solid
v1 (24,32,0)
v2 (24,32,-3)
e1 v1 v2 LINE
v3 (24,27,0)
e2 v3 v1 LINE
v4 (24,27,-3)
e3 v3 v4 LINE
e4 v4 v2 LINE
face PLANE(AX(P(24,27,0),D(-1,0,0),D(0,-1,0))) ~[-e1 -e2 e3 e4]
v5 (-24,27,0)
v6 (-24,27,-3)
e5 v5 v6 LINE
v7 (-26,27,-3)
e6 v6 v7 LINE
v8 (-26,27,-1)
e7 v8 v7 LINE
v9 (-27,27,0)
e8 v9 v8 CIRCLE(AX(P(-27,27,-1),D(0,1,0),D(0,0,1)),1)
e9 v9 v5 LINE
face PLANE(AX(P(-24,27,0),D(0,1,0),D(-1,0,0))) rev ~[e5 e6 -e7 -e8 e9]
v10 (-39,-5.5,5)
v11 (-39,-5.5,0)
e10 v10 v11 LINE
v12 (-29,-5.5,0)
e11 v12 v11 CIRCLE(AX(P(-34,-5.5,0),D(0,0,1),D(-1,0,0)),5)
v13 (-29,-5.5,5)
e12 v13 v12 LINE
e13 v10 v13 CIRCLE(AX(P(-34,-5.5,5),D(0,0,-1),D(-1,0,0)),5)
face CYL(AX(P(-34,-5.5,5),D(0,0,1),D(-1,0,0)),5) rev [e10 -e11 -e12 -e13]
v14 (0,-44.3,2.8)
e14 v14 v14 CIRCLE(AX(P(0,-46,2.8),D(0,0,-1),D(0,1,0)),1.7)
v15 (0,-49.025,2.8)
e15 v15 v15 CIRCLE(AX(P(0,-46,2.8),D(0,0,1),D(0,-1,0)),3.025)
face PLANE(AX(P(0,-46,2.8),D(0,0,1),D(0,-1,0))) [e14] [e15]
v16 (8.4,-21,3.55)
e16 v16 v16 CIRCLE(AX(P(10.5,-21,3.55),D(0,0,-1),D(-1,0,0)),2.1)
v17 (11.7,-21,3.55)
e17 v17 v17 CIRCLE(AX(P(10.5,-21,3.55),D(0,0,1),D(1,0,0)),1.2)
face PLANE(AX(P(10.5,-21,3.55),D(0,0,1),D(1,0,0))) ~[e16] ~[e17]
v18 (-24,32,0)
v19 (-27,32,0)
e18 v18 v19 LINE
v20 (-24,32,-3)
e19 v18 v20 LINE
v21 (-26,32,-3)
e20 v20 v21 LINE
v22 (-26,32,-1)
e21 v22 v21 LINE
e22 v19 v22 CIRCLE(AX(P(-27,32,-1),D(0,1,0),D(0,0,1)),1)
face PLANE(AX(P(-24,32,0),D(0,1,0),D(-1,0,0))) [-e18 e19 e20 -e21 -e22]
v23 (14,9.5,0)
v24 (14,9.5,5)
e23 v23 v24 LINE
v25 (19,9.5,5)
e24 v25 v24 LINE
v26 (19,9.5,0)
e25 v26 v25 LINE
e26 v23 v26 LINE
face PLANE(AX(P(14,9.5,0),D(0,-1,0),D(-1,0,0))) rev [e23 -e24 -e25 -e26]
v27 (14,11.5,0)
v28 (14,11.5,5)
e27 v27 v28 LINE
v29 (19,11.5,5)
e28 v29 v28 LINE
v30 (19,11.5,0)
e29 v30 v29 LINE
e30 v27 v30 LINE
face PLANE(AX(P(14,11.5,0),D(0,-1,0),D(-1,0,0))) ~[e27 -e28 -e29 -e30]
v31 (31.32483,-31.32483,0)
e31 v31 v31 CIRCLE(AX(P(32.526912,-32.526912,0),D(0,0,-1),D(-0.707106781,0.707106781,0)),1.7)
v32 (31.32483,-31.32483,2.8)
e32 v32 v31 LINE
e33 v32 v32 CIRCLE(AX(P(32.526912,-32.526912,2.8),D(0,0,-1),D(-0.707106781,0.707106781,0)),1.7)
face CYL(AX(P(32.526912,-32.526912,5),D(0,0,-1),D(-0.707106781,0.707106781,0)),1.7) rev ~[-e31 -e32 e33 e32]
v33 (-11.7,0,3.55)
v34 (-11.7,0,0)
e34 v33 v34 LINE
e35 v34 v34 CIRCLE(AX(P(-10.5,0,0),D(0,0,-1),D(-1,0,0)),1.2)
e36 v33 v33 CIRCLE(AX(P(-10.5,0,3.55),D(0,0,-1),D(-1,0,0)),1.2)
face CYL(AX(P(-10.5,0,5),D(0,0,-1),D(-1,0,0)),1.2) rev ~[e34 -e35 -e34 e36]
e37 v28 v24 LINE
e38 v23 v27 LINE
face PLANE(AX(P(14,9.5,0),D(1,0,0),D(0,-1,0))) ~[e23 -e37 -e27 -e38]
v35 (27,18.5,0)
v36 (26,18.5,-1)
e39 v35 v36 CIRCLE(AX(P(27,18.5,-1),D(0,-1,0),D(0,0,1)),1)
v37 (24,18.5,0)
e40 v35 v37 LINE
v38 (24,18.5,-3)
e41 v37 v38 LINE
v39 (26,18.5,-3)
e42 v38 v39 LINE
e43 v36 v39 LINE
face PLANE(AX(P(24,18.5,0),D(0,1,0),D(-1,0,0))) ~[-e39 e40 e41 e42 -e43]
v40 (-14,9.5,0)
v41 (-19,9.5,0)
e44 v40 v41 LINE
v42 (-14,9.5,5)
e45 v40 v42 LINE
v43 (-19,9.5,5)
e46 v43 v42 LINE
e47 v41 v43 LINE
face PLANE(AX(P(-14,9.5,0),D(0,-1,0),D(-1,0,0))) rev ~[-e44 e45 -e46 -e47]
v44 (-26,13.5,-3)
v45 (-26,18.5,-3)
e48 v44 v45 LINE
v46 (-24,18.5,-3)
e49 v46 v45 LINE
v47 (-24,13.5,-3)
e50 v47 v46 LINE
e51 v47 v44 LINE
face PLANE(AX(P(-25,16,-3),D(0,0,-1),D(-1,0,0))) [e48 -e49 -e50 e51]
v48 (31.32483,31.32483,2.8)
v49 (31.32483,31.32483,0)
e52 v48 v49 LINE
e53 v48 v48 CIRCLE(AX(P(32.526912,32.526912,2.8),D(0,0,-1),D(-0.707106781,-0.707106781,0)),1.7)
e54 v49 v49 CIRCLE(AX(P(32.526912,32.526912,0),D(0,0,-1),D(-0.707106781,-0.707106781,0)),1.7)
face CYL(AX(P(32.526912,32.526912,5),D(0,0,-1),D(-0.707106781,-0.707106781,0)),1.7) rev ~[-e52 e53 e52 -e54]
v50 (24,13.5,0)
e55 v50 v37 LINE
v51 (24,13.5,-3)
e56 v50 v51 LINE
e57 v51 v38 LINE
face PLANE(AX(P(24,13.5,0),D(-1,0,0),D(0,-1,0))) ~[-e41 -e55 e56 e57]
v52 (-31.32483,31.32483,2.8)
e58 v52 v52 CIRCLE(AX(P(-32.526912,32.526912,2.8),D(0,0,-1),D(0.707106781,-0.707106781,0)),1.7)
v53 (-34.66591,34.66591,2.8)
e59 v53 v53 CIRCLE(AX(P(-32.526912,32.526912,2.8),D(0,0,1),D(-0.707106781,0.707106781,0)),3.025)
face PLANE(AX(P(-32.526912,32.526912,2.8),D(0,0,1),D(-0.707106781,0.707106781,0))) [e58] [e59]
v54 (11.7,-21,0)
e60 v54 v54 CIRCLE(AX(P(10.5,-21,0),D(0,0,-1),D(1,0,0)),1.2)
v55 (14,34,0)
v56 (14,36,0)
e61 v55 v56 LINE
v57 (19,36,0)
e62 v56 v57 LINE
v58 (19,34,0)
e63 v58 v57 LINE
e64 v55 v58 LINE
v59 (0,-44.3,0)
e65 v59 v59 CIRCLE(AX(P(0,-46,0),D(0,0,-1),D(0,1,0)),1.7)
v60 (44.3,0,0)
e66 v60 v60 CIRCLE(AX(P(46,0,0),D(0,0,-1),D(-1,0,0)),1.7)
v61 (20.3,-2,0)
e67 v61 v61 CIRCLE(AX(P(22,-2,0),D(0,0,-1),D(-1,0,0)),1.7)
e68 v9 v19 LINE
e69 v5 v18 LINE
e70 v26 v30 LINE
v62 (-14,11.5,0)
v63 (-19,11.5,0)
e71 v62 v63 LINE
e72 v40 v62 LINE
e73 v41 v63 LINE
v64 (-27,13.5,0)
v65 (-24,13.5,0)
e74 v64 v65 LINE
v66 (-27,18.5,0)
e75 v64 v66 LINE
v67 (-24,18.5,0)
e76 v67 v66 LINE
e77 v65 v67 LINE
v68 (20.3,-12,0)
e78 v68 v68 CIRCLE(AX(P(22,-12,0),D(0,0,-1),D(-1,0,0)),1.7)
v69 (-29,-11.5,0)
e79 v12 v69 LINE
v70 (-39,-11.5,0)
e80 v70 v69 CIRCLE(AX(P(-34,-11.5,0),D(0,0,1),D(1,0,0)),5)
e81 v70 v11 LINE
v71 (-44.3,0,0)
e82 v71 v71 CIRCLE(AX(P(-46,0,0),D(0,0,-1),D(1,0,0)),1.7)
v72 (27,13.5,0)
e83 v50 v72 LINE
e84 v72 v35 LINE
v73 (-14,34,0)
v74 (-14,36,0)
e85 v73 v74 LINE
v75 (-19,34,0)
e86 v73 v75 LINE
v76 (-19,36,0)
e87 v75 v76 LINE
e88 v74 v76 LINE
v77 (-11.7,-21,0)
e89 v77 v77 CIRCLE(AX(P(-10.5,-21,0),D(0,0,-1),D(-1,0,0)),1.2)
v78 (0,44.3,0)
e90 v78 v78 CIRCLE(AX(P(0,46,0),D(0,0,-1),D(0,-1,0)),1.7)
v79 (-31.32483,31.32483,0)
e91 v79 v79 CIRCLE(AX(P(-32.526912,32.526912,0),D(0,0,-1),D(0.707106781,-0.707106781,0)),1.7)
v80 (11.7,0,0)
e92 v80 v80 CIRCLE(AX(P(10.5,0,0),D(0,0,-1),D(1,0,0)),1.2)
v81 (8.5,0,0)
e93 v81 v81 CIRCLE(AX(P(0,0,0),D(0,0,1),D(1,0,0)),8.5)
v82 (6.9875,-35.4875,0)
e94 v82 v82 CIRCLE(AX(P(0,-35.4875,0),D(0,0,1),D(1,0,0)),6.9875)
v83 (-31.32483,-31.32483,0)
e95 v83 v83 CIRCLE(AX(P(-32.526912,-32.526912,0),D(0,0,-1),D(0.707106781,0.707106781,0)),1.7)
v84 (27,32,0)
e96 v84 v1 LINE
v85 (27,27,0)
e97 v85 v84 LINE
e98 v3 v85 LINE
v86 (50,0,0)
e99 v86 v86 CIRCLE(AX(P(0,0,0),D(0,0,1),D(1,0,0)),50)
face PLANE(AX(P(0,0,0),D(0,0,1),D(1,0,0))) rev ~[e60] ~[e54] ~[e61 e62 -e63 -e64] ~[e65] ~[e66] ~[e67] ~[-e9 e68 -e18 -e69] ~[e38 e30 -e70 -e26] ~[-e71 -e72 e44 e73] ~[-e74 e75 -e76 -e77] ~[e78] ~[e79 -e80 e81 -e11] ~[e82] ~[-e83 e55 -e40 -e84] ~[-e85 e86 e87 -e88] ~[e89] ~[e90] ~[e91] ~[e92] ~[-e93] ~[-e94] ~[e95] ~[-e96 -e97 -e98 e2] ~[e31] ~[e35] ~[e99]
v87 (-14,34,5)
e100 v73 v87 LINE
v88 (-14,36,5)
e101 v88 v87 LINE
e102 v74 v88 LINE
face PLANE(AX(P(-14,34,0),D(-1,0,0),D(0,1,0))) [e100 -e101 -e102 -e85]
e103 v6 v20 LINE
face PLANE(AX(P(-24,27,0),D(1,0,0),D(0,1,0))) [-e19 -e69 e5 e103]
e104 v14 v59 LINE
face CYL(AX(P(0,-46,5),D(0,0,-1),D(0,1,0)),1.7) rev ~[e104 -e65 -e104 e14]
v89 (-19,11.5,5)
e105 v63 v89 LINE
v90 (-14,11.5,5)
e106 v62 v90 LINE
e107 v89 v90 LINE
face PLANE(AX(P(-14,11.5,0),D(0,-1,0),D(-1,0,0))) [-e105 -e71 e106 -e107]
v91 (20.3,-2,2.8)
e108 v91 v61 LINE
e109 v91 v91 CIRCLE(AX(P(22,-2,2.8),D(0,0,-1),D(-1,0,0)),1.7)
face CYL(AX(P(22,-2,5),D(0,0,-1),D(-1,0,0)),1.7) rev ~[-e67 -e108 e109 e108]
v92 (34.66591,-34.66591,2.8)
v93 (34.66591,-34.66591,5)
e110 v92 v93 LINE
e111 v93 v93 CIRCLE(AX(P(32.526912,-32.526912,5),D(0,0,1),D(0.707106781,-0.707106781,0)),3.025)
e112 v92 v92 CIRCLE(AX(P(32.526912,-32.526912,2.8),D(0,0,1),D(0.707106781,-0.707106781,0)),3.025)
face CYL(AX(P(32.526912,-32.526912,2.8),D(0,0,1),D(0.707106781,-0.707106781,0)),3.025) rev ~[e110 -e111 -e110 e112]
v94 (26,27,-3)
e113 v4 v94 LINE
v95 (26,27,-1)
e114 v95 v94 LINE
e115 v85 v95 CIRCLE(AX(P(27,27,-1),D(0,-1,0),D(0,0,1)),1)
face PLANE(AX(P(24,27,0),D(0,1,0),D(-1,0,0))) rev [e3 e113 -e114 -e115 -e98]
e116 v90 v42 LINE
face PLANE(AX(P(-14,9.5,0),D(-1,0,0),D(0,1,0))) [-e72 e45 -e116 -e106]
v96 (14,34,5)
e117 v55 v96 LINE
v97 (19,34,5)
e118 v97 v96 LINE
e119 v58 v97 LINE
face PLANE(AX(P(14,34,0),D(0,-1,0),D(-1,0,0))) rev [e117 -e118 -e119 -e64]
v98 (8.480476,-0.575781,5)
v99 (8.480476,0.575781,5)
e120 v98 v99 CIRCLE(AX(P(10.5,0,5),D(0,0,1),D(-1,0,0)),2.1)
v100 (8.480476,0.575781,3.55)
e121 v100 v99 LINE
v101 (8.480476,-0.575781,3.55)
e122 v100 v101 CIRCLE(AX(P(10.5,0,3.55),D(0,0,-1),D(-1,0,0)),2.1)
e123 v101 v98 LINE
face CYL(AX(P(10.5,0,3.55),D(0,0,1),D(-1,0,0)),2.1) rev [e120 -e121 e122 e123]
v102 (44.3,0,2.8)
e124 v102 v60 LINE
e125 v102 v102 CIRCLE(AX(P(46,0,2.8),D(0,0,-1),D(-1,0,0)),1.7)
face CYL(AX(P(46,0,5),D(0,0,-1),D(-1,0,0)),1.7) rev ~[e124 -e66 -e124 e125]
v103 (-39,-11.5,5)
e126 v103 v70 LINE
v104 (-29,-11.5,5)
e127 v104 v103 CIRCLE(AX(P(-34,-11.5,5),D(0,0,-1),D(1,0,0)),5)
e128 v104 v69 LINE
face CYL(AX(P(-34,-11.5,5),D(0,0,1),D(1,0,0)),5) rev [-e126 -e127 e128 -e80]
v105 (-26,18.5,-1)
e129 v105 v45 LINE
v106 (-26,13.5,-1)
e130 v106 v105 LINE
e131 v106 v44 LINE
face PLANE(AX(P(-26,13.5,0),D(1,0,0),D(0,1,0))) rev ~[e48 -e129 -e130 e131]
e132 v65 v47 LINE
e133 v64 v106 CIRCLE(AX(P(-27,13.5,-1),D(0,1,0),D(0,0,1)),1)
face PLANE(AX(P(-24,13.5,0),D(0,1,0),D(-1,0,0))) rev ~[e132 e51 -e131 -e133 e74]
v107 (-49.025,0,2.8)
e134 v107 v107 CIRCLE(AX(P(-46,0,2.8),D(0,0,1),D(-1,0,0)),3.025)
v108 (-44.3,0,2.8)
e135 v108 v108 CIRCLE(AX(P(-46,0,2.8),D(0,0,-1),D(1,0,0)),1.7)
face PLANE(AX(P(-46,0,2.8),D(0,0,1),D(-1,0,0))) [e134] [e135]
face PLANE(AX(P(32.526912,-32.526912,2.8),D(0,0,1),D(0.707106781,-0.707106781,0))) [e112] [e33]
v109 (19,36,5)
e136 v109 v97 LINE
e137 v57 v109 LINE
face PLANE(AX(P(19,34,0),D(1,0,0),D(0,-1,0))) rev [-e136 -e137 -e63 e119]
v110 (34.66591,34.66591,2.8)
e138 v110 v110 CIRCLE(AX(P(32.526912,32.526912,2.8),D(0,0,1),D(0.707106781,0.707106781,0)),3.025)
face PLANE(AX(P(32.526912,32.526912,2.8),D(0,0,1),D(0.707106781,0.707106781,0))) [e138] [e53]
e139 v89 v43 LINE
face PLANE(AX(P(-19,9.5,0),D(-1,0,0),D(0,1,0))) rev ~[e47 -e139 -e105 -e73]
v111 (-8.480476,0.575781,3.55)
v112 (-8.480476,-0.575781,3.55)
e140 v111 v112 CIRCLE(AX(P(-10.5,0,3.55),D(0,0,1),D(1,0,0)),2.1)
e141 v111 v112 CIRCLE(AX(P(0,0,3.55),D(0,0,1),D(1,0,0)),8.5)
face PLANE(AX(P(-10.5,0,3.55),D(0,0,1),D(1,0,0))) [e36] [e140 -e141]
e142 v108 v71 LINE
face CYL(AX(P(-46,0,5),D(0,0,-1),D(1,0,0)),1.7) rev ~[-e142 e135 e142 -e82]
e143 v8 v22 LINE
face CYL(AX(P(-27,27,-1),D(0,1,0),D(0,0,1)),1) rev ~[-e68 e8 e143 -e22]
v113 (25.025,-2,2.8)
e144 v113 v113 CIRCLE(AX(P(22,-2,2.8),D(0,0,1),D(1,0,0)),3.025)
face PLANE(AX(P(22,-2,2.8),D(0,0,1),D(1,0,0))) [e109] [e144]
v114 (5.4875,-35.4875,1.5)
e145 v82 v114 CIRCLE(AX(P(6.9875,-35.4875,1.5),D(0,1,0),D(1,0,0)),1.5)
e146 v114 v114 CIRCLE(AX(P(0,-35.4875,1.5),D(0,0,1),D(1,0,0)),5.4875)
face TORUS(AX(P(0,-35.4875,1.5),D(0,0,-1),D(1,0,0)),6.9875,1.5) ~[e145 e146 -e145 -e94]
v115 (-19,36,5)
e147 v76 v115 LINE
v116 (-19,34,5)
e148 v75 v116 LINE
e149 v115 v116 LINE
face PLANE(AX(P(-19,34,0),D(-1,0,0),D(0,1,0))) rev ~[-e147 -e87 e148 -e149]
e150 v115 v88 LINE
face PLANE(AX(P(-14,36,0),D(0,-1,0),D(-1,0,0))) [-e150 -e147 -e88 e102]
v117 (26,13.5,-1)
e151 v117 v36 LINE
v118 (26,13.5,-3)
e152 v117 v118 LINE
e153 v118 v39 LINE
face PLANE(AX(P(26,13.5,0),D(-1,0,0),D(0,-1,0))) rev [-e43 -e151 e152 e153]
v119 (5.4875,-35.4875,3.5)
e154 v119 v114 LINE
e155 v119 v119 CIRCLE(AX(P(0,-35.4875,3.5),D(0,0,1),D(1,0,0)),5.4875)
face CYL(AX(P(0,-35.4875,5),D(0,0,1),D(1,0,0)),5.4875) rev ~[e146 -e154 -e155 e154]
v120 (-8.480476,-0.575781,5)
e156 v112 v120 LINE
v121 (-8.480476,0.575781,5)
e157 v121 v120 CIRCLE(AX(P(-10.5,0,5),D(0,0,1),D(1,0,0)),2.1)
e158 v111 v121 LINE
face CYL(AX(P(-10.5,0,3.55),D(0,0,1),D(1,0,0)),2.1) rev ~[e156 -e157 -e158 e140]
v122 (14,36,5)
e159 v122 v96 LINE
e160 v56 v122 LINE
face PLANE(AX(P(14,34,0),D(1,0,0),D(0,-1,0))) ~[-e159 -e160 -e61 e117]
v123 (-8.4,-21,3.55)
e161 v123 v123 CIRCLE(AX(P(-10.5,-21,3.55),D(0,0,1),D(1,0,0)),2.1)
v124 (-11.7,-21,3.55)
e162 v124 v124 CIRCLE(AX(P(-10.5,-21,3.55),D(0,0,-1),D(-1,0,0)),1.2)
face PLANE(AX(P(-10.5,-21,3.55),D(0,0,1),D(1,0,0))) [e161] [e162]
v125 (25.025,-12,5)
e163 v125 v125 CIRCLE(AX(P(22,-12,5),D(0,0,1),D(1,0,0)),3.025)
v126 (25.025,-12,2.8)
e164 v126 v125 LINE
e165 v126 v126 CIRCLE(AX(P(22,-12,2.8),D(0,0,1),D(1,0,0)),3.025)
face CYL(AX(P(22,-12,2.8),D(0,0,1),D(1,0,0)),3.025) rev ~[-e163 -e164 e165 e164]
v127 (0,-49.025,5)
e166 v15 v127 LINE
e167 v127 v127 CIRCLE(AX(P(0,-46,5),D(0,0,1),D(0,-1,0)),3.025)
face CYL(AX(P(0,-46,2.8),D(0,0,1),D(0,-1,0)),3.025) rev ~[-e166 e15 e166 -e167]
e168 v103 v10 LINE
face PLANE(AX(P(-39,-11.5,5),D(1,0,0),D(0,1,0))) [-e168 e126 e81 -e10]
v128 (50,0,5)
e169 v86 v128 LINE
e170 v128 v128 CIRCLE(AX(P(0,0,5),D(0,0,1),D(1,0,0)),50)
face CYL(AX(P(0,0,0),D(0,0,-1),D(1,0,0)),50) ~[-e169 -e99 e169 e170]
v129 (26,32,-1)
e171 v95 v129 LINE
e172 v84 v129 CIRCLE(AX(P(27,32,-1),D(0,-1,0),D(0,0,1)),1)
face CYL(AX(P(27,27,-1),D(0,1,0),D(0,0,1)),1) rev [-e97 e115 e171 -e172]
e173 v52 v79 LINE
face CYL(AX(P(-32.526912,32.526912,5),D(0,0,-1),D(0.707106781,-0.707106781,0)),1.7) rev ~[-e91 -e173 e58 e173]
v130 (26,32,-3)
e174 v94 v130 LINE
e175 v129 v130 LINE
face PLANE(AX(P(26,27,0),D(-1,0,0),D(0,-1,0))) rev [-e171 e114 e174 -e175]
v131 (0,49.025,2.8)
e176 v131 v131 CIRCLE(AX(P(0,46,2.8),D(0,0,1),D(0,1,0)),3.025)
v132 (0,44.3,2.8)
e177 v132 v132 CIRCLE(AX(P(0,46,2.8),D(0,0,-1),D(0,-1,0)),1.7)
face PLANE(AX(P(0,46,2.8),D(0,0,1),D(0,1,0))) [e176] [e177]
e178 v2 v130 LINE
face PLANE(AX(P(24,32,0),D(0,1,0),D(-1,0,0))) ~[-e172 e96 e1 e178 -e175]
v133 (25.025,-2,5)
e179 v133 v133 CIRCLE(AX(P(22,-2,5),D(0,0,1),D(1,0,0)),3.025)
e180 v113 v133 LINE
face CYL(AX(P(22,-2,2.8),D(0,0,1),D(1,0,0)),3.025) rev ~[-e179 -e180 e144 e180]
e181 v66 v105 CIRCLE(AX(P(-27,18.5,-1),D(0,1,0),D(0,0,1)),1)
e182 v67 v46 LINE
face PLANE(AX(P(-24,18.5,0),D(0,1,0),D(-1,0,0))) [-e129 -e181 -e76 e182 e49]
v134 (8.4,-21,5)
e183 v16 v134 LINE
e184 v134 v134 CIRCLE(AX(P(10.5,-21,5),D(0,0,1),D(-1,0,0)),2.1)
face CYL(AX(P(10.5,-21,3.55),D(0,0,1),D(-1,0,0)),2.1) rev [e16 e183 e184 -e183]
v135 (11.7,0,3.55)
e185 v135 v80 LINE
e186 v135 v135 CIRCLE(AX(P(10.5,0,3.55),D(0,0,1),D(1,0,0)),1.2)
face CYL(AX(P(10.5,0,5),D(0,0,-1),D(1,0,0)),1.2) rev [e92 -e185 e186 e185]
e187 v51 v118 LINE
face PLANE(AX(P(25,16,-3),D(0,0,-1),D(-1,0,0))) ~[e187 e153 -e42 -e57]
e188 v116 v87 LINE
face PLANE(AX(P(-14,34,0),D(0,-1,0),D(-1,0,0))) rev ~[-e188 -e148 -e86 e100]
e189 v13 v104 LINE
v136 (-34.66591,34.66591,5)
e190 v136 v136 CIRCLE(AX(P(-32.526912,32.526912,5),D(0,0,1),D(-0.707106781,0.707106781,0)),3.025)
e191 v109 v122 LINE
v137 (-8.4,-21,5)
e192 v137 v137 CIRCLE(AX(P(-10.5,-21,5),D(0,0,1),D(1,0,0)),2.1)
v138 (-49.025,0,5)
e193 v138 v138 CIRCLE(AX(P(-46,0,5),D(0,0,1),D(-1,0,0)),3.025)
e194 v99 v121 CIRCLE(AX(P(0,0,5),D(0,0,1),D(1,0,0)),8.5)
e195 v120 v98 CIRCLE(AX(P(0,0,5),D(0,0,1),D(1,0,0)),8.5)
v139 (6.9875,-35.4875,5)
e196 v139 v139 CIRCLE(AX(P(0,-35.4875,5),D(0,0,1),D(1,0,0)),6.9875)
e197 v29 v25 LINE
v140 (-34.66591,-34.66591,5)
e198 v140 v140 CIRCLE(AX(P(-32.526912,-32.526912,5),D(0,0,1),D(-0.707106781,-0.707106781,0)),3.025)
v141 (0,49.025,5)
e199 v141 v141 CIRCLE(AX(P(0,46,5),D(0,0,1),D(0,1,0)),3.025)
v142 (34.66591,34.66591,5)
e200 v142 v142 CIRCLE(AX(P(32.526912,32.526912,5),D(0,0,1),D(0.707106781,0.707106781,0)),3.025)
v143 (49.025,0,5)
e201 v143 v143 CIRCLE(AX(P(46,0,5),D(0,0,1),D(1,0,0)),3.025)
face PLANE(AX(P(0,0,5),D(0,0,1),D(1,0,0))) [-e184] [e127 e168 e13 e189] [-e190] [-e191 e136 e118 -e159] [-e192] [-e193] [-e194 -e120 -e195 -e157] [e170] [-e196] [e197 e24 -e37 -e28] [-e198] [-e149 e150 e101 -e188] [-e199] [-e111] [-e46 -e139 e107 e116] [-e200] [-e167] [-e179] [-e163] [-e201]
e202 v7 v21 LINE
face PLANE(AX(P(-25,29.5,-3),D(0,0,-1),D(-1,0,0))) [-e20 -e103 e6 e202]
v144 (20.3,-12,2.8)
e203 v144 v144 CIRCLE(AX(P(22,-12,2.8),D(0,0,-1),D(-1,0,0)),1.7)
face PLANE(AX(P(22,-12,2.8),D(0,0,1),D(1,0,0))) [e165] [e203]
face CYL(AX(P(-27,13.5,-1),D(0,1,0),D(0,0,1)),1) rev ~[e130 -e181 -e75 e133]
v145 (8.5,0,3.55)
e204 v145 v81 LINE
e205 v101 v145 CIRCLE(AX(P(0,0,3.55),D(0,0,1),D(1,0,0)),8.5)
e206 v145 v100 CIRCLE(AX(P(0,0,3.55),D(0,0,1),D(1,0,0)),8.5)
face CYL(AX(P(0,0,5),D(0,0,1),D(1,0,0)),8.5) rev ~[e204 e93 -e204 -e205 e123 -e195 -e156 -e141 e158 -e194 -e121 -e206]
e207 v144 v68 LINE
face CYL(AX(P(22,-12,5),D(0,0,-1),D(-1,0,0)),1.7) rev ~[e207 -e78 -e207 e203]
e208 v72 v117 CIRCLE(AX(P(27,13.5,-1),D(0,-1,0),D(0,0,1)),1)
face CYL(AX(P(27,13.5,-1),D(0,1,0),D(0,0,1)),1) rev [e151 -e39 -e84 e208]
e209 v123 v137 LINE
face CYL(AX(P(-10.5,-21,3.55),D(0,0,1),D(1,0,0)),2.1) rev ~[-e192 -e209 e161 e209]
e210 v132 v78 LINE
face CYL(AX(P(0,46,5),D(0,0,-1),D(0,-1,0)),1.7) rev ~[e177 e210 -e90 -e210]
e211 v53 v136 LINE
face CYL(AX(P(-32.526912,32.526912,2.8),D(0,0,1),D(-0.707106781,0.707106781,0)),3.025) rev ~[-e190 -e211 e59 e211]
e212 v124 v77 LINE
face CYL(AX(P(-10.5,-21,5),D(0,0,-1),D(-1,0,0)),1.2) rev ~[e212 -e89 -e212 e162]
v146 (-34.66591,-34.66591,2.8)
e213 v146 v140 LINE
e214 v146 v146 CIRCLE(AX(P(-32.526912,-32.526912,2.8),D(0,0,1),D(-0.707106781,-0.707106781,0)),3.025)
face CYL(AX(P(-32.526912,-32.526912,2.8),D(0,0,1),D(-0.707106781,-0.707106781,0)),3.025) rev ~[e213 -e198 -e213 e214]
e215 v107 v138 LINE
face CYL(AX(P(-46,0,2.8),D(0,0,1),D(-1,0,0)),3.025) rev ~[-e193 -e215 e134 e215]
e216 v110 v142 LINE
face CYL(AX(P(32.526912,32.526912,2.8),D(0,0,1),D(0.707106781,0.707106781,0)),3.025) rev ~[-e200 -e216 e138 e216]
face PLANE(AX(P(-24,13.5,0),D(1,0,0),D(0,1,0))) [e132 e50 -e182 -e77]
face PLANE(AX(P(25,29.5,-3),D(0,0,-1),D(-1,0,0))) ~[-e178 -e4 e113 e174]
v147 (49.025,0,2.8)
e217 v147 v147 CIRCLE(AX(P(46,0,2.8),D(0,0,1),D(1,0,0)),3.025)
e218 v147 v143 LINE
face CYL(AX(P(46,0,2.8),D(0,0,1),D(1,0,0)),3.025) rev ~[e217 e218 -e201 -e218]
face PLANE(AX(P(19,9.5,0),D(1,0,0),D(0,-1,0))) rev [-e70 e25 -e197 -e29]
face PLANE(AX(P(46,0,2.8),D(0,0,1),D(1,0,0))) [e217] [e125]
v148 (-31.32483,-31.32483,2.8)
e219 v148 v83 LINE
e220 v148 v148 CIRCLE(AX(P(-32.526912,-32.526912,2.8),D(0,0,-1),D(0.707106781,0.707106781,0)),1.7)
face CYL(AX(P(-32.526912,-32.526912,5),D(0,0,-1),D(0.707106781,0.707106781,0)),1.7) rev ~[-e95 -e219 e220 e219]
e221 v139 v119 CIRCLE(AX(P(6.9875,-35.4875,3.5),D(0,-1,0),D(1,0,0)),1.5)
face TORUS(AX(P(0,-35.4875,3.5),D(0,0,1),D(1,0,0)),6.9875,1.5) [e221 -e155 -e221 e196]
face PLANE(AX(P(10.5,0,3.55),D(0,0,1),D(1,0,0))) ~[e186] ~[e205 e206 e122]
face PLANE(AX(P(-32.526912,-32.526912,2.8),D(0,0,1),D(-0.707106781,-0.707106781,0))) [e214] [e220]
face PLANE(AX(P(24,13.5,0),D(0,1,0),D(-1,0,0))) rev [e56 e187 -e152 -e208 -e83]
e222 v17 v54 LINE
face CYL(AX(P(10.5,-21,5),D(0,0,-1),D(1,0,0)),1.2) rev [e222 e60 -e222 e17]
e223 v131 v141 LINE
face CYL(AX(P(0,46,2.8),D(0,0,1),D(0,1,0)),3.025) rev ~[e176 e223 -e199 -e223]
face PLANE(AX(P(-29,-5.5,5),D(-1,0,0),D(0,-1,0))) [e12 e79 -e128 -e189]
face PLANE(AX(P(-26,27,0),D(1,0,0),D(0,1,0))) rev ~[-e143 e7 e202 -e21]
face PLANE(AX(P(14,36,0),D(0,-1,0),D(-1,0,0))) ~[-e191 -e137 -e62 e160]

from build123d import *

# Parameters (mm, degrees)
SKETCH_1_R                   = 50
EXTRUDE_1_DEPTH              = 5
HOLE_WIZARD_M2_1_D           = 2.4
HOLE_WIZARD_M2_1_CBORE_D     = 4.2
HOLE_WIZARD_M2_1_CBORE_DEPTH = 1.45
HOLE_WIZARD_M3_2_D           = 3.4
HOLE_WIZARD_M3_2_CBORE_D     = 6.05
HOLE_WIZARD_M3_2_CBORE_DEPTH = 2.2
PATTERN_CIRCULAR_1_COUNT     = 8
SKETCH_6_R                   = 8.5
CUT_EXTRUDE_1_DEPTH          = 71.887234394
SKETCH_7_R                   = 5.4875
CUT_EXTRUDE_2_DEPTH          = 71.887234394
FILLET_1_R                   = 1.5
HOLE_WIZARD_M3_3_D           = 3.4
HOLE_WIZARD_M3_3_CBORE_D     = 6.05
HOLE_WIZARD_M3_3_CBORE_DEPTH = 2.2
SKETCH_12_W                  = 5
SKETCH_12_H                  = 2
CUT_EXTRUDE_4_DEPTH          = 71.887234394
SKETCH_14_W                  = 2
SKETCH_14_H                  = 5
EXTRUDE_2_DEPTH              = 3
FILLET_2_R                   = 1
FILLET_2_OF_MIRROR_2_R       = 1
CUT_EXTRUDE_5_DEPTH          = 72.161787499


with BuildPart() as part:
    # ｽｹｯﾁ1 → ﾎﾞｽ - 押し出し1 (new body)
    with BuildSketch(Plane.XY):
        Circle(SKETCH_1_R)
    extrude(amount=EXTRUDE_1_DEPTH)

    # M2 丸平ねじ用座ぐり穴1 (through all)
    with Locations(Plane.XY.offset(5)):
        with Locations((-10.5, 0), (-10.5, -21)):
            hole_wizard_m2_1 = CounterBoreHole(HOLE_WIZARD_M2_1_D / 2, HOLE_WIZARD_M2_1_CBORE_D / 2, HOLE_WIZARD_M2_1_CBORE_DEPTH)

    # ﾐﾗｰ1: M2 丸平ねじ用座ぐり穴1 across plane
    add(hole_wizard_m2_1.mirror(Plane(origin=(0, 0, 0), x_dir=(0, 0, 1), z_dir=(1, 0, 0))), mode=Mode.SUBTRACT)

    # M3 丸平ねじ用座ぐり穴2 (through all)
    with Locations(Plane.XY.offset(5)):
        with Locations((46, 0)):
            hole_wizard_m3_2 = CounterBoreHole(HOLE_WIZARD_M3_2_D / 2, HOLE_WIZARD_M3_2_CBORE_D / 2, HOLE_WIZARD_M3_2_CBORE_DEPTH)

    # 円形ﾊﾟﾀｰﾝ1: M3 丸平ねじ用座ぐり穴2 ×8 about axis
    pattern_circular_1_axis = Axis((0, 0, 0), (0, 0, 1))
    for i in range(1, PATTERN_CIRCULAR_1_COUNT):
        add(hole_wizard_m3_2.rotate(pattern_circular_1_axis, i * 360 / PATTERN_CIRCULAR_1_COUNT), mode=Mode.SUBTRACT)

    # ｽｹｯﾁ6 → ｶｯﾄ - 押し出し1 (cut, through all)
    with BuildSketch(Plane.XY.offset(5)):
        Circle(SKETCH_6_R)
    extrude(amount=-CUT_EXTRUDE_1_DEPTH, mode=Mode.SUBTRACT)

    # ｽｹｯﾁ7 → ｶｯﾄ - 押し出し2 (cut, through all)
    with BuildSketch(Plane.XY.offset(5)):
        with Locations((0, -35.4875)):
            Circle(SKETCH_7_R)
    extrude(amount=-CUT_EXTRUDE_2_DEPTH, mode=Mode.SUBTRACT)

    # ﾌｨﾚｯﾄ1
    fillet_1_edges = [part.edges().sort_by_distance(p)[0] for p in [
        (-5.4875, -35.4875, 0),
        (-5.4875, -35.4875, 5),
    ]]
    fillet(fillet_1_edges, radius=FILLET_1_R)

    # M3 丸平ねじ用座ぐり穴3 (through all)
    with Locations(Plane.XY.offset(5)):
        with Locations((22, -2), (22, -12)):
            CounterBoreHole(HOLE_WIZARD_M3_3_D / 2, HOLE_WIZARD_M3_3_CBORE_D / 2, HOLE_WIZARD_M3_3_CBORE_DEPTH)

    # ｽｹｯﾁ12 → ｶｯﾄ - 押し出し4 (cut, through all)
    with BuildSketch(Plane(origin=(0, 0, 0), x_dir=(-1, 0, 0), z_dir=(0, 0, -1))):
        with Locations((16.5, 35)):
            Rectangle(SKETCH_12_W, SKETCH_12_H)
        with Locations((16.5, 10.5)):
            Rectangle(SKETCH_12_W, SKETCH_12_H)
    cut_extrude_4 = extrude(amount=-CUT_EXTRUDE_4_DEPTH, mode=Mode.SUBTRACT)

    # ｽｹｯﾁ14 → ﾎﾞｽ - 押し出し2 (add)
    with BuildSketch(Plane(origin=(0, 0, 0), x_dir=(-1, 0, 0), z_dir=(0, 0, -1))):
        with Locations((25, 29.5)):
            Rectangle(SKETCH_14_W, SKETCH_14_H)
        with Locations((25, 16)):
            Rectangle(SKETCH_14_W, SKETCH_14_H)
    extrude_2 = extrude(amount=EXTRUDE_2_DEPTH)

    # ﾌｨﾚｯﾄ2
    fillet_2_edges = [part.edges().sort_by_distance(p)[0] for p in [
        (-26, 29.5, 0),
        (-26, 16, 0),
    ]]
    fillet(fillet_2_edges, radius=FILLET_2_R)

    # ﾐﾗｰ2: ｶｯﾄ - 押し出し4, ﾎﾞｽ - 押し出し2 across plane
    add(cut_extrude_4.mirror(Plane(origin=(0, 0, 0), x_dir=(0, 0, 1), z_dir=(1, 0, 0))), mode=Mode.SUBTRACT)
    add(extrude_2.mirror(Plane(origin=(0, 0, 0), x_dir=(0, 0, 1), z_dir=(1, 0, 0))))

    # ﾌｨﾚｯﾄ2 of ﾐﾗｰ2
    fillet_2_of_mirror_2_edges = [part.edges().sort_by_distance(p)[0] for p in [
        (26, 29.5, 0),
        (26, 16, 0),
    ]]
    fillet(fillet_2_of_mirror_2_edges, radius=FILLET_2_OF_MIRROR_2_R)

    # ｽｹｯﾁ15 → ｶｯﾄ - 押し出し5 (cut, through all)
    with BuildSketch(Plane.XY.offset(5)):
        with BuildLine():
            Line((-29, -5.5), (-29, -11.5))
            ThreePointArc((-29, -11.5), (-34, -16.5), (-39, -11.5))
            Line((-39, -11.5), (-39, -5.5))
            ThreePointArc((-39, -5.5), (-34, -0.5), (-29, -5.5))
        make_face()
    extrude(amount=-CUT_EXTRUDE_5_DEPTH, mode=Mode.SUBTRACT)


solid = part.part
